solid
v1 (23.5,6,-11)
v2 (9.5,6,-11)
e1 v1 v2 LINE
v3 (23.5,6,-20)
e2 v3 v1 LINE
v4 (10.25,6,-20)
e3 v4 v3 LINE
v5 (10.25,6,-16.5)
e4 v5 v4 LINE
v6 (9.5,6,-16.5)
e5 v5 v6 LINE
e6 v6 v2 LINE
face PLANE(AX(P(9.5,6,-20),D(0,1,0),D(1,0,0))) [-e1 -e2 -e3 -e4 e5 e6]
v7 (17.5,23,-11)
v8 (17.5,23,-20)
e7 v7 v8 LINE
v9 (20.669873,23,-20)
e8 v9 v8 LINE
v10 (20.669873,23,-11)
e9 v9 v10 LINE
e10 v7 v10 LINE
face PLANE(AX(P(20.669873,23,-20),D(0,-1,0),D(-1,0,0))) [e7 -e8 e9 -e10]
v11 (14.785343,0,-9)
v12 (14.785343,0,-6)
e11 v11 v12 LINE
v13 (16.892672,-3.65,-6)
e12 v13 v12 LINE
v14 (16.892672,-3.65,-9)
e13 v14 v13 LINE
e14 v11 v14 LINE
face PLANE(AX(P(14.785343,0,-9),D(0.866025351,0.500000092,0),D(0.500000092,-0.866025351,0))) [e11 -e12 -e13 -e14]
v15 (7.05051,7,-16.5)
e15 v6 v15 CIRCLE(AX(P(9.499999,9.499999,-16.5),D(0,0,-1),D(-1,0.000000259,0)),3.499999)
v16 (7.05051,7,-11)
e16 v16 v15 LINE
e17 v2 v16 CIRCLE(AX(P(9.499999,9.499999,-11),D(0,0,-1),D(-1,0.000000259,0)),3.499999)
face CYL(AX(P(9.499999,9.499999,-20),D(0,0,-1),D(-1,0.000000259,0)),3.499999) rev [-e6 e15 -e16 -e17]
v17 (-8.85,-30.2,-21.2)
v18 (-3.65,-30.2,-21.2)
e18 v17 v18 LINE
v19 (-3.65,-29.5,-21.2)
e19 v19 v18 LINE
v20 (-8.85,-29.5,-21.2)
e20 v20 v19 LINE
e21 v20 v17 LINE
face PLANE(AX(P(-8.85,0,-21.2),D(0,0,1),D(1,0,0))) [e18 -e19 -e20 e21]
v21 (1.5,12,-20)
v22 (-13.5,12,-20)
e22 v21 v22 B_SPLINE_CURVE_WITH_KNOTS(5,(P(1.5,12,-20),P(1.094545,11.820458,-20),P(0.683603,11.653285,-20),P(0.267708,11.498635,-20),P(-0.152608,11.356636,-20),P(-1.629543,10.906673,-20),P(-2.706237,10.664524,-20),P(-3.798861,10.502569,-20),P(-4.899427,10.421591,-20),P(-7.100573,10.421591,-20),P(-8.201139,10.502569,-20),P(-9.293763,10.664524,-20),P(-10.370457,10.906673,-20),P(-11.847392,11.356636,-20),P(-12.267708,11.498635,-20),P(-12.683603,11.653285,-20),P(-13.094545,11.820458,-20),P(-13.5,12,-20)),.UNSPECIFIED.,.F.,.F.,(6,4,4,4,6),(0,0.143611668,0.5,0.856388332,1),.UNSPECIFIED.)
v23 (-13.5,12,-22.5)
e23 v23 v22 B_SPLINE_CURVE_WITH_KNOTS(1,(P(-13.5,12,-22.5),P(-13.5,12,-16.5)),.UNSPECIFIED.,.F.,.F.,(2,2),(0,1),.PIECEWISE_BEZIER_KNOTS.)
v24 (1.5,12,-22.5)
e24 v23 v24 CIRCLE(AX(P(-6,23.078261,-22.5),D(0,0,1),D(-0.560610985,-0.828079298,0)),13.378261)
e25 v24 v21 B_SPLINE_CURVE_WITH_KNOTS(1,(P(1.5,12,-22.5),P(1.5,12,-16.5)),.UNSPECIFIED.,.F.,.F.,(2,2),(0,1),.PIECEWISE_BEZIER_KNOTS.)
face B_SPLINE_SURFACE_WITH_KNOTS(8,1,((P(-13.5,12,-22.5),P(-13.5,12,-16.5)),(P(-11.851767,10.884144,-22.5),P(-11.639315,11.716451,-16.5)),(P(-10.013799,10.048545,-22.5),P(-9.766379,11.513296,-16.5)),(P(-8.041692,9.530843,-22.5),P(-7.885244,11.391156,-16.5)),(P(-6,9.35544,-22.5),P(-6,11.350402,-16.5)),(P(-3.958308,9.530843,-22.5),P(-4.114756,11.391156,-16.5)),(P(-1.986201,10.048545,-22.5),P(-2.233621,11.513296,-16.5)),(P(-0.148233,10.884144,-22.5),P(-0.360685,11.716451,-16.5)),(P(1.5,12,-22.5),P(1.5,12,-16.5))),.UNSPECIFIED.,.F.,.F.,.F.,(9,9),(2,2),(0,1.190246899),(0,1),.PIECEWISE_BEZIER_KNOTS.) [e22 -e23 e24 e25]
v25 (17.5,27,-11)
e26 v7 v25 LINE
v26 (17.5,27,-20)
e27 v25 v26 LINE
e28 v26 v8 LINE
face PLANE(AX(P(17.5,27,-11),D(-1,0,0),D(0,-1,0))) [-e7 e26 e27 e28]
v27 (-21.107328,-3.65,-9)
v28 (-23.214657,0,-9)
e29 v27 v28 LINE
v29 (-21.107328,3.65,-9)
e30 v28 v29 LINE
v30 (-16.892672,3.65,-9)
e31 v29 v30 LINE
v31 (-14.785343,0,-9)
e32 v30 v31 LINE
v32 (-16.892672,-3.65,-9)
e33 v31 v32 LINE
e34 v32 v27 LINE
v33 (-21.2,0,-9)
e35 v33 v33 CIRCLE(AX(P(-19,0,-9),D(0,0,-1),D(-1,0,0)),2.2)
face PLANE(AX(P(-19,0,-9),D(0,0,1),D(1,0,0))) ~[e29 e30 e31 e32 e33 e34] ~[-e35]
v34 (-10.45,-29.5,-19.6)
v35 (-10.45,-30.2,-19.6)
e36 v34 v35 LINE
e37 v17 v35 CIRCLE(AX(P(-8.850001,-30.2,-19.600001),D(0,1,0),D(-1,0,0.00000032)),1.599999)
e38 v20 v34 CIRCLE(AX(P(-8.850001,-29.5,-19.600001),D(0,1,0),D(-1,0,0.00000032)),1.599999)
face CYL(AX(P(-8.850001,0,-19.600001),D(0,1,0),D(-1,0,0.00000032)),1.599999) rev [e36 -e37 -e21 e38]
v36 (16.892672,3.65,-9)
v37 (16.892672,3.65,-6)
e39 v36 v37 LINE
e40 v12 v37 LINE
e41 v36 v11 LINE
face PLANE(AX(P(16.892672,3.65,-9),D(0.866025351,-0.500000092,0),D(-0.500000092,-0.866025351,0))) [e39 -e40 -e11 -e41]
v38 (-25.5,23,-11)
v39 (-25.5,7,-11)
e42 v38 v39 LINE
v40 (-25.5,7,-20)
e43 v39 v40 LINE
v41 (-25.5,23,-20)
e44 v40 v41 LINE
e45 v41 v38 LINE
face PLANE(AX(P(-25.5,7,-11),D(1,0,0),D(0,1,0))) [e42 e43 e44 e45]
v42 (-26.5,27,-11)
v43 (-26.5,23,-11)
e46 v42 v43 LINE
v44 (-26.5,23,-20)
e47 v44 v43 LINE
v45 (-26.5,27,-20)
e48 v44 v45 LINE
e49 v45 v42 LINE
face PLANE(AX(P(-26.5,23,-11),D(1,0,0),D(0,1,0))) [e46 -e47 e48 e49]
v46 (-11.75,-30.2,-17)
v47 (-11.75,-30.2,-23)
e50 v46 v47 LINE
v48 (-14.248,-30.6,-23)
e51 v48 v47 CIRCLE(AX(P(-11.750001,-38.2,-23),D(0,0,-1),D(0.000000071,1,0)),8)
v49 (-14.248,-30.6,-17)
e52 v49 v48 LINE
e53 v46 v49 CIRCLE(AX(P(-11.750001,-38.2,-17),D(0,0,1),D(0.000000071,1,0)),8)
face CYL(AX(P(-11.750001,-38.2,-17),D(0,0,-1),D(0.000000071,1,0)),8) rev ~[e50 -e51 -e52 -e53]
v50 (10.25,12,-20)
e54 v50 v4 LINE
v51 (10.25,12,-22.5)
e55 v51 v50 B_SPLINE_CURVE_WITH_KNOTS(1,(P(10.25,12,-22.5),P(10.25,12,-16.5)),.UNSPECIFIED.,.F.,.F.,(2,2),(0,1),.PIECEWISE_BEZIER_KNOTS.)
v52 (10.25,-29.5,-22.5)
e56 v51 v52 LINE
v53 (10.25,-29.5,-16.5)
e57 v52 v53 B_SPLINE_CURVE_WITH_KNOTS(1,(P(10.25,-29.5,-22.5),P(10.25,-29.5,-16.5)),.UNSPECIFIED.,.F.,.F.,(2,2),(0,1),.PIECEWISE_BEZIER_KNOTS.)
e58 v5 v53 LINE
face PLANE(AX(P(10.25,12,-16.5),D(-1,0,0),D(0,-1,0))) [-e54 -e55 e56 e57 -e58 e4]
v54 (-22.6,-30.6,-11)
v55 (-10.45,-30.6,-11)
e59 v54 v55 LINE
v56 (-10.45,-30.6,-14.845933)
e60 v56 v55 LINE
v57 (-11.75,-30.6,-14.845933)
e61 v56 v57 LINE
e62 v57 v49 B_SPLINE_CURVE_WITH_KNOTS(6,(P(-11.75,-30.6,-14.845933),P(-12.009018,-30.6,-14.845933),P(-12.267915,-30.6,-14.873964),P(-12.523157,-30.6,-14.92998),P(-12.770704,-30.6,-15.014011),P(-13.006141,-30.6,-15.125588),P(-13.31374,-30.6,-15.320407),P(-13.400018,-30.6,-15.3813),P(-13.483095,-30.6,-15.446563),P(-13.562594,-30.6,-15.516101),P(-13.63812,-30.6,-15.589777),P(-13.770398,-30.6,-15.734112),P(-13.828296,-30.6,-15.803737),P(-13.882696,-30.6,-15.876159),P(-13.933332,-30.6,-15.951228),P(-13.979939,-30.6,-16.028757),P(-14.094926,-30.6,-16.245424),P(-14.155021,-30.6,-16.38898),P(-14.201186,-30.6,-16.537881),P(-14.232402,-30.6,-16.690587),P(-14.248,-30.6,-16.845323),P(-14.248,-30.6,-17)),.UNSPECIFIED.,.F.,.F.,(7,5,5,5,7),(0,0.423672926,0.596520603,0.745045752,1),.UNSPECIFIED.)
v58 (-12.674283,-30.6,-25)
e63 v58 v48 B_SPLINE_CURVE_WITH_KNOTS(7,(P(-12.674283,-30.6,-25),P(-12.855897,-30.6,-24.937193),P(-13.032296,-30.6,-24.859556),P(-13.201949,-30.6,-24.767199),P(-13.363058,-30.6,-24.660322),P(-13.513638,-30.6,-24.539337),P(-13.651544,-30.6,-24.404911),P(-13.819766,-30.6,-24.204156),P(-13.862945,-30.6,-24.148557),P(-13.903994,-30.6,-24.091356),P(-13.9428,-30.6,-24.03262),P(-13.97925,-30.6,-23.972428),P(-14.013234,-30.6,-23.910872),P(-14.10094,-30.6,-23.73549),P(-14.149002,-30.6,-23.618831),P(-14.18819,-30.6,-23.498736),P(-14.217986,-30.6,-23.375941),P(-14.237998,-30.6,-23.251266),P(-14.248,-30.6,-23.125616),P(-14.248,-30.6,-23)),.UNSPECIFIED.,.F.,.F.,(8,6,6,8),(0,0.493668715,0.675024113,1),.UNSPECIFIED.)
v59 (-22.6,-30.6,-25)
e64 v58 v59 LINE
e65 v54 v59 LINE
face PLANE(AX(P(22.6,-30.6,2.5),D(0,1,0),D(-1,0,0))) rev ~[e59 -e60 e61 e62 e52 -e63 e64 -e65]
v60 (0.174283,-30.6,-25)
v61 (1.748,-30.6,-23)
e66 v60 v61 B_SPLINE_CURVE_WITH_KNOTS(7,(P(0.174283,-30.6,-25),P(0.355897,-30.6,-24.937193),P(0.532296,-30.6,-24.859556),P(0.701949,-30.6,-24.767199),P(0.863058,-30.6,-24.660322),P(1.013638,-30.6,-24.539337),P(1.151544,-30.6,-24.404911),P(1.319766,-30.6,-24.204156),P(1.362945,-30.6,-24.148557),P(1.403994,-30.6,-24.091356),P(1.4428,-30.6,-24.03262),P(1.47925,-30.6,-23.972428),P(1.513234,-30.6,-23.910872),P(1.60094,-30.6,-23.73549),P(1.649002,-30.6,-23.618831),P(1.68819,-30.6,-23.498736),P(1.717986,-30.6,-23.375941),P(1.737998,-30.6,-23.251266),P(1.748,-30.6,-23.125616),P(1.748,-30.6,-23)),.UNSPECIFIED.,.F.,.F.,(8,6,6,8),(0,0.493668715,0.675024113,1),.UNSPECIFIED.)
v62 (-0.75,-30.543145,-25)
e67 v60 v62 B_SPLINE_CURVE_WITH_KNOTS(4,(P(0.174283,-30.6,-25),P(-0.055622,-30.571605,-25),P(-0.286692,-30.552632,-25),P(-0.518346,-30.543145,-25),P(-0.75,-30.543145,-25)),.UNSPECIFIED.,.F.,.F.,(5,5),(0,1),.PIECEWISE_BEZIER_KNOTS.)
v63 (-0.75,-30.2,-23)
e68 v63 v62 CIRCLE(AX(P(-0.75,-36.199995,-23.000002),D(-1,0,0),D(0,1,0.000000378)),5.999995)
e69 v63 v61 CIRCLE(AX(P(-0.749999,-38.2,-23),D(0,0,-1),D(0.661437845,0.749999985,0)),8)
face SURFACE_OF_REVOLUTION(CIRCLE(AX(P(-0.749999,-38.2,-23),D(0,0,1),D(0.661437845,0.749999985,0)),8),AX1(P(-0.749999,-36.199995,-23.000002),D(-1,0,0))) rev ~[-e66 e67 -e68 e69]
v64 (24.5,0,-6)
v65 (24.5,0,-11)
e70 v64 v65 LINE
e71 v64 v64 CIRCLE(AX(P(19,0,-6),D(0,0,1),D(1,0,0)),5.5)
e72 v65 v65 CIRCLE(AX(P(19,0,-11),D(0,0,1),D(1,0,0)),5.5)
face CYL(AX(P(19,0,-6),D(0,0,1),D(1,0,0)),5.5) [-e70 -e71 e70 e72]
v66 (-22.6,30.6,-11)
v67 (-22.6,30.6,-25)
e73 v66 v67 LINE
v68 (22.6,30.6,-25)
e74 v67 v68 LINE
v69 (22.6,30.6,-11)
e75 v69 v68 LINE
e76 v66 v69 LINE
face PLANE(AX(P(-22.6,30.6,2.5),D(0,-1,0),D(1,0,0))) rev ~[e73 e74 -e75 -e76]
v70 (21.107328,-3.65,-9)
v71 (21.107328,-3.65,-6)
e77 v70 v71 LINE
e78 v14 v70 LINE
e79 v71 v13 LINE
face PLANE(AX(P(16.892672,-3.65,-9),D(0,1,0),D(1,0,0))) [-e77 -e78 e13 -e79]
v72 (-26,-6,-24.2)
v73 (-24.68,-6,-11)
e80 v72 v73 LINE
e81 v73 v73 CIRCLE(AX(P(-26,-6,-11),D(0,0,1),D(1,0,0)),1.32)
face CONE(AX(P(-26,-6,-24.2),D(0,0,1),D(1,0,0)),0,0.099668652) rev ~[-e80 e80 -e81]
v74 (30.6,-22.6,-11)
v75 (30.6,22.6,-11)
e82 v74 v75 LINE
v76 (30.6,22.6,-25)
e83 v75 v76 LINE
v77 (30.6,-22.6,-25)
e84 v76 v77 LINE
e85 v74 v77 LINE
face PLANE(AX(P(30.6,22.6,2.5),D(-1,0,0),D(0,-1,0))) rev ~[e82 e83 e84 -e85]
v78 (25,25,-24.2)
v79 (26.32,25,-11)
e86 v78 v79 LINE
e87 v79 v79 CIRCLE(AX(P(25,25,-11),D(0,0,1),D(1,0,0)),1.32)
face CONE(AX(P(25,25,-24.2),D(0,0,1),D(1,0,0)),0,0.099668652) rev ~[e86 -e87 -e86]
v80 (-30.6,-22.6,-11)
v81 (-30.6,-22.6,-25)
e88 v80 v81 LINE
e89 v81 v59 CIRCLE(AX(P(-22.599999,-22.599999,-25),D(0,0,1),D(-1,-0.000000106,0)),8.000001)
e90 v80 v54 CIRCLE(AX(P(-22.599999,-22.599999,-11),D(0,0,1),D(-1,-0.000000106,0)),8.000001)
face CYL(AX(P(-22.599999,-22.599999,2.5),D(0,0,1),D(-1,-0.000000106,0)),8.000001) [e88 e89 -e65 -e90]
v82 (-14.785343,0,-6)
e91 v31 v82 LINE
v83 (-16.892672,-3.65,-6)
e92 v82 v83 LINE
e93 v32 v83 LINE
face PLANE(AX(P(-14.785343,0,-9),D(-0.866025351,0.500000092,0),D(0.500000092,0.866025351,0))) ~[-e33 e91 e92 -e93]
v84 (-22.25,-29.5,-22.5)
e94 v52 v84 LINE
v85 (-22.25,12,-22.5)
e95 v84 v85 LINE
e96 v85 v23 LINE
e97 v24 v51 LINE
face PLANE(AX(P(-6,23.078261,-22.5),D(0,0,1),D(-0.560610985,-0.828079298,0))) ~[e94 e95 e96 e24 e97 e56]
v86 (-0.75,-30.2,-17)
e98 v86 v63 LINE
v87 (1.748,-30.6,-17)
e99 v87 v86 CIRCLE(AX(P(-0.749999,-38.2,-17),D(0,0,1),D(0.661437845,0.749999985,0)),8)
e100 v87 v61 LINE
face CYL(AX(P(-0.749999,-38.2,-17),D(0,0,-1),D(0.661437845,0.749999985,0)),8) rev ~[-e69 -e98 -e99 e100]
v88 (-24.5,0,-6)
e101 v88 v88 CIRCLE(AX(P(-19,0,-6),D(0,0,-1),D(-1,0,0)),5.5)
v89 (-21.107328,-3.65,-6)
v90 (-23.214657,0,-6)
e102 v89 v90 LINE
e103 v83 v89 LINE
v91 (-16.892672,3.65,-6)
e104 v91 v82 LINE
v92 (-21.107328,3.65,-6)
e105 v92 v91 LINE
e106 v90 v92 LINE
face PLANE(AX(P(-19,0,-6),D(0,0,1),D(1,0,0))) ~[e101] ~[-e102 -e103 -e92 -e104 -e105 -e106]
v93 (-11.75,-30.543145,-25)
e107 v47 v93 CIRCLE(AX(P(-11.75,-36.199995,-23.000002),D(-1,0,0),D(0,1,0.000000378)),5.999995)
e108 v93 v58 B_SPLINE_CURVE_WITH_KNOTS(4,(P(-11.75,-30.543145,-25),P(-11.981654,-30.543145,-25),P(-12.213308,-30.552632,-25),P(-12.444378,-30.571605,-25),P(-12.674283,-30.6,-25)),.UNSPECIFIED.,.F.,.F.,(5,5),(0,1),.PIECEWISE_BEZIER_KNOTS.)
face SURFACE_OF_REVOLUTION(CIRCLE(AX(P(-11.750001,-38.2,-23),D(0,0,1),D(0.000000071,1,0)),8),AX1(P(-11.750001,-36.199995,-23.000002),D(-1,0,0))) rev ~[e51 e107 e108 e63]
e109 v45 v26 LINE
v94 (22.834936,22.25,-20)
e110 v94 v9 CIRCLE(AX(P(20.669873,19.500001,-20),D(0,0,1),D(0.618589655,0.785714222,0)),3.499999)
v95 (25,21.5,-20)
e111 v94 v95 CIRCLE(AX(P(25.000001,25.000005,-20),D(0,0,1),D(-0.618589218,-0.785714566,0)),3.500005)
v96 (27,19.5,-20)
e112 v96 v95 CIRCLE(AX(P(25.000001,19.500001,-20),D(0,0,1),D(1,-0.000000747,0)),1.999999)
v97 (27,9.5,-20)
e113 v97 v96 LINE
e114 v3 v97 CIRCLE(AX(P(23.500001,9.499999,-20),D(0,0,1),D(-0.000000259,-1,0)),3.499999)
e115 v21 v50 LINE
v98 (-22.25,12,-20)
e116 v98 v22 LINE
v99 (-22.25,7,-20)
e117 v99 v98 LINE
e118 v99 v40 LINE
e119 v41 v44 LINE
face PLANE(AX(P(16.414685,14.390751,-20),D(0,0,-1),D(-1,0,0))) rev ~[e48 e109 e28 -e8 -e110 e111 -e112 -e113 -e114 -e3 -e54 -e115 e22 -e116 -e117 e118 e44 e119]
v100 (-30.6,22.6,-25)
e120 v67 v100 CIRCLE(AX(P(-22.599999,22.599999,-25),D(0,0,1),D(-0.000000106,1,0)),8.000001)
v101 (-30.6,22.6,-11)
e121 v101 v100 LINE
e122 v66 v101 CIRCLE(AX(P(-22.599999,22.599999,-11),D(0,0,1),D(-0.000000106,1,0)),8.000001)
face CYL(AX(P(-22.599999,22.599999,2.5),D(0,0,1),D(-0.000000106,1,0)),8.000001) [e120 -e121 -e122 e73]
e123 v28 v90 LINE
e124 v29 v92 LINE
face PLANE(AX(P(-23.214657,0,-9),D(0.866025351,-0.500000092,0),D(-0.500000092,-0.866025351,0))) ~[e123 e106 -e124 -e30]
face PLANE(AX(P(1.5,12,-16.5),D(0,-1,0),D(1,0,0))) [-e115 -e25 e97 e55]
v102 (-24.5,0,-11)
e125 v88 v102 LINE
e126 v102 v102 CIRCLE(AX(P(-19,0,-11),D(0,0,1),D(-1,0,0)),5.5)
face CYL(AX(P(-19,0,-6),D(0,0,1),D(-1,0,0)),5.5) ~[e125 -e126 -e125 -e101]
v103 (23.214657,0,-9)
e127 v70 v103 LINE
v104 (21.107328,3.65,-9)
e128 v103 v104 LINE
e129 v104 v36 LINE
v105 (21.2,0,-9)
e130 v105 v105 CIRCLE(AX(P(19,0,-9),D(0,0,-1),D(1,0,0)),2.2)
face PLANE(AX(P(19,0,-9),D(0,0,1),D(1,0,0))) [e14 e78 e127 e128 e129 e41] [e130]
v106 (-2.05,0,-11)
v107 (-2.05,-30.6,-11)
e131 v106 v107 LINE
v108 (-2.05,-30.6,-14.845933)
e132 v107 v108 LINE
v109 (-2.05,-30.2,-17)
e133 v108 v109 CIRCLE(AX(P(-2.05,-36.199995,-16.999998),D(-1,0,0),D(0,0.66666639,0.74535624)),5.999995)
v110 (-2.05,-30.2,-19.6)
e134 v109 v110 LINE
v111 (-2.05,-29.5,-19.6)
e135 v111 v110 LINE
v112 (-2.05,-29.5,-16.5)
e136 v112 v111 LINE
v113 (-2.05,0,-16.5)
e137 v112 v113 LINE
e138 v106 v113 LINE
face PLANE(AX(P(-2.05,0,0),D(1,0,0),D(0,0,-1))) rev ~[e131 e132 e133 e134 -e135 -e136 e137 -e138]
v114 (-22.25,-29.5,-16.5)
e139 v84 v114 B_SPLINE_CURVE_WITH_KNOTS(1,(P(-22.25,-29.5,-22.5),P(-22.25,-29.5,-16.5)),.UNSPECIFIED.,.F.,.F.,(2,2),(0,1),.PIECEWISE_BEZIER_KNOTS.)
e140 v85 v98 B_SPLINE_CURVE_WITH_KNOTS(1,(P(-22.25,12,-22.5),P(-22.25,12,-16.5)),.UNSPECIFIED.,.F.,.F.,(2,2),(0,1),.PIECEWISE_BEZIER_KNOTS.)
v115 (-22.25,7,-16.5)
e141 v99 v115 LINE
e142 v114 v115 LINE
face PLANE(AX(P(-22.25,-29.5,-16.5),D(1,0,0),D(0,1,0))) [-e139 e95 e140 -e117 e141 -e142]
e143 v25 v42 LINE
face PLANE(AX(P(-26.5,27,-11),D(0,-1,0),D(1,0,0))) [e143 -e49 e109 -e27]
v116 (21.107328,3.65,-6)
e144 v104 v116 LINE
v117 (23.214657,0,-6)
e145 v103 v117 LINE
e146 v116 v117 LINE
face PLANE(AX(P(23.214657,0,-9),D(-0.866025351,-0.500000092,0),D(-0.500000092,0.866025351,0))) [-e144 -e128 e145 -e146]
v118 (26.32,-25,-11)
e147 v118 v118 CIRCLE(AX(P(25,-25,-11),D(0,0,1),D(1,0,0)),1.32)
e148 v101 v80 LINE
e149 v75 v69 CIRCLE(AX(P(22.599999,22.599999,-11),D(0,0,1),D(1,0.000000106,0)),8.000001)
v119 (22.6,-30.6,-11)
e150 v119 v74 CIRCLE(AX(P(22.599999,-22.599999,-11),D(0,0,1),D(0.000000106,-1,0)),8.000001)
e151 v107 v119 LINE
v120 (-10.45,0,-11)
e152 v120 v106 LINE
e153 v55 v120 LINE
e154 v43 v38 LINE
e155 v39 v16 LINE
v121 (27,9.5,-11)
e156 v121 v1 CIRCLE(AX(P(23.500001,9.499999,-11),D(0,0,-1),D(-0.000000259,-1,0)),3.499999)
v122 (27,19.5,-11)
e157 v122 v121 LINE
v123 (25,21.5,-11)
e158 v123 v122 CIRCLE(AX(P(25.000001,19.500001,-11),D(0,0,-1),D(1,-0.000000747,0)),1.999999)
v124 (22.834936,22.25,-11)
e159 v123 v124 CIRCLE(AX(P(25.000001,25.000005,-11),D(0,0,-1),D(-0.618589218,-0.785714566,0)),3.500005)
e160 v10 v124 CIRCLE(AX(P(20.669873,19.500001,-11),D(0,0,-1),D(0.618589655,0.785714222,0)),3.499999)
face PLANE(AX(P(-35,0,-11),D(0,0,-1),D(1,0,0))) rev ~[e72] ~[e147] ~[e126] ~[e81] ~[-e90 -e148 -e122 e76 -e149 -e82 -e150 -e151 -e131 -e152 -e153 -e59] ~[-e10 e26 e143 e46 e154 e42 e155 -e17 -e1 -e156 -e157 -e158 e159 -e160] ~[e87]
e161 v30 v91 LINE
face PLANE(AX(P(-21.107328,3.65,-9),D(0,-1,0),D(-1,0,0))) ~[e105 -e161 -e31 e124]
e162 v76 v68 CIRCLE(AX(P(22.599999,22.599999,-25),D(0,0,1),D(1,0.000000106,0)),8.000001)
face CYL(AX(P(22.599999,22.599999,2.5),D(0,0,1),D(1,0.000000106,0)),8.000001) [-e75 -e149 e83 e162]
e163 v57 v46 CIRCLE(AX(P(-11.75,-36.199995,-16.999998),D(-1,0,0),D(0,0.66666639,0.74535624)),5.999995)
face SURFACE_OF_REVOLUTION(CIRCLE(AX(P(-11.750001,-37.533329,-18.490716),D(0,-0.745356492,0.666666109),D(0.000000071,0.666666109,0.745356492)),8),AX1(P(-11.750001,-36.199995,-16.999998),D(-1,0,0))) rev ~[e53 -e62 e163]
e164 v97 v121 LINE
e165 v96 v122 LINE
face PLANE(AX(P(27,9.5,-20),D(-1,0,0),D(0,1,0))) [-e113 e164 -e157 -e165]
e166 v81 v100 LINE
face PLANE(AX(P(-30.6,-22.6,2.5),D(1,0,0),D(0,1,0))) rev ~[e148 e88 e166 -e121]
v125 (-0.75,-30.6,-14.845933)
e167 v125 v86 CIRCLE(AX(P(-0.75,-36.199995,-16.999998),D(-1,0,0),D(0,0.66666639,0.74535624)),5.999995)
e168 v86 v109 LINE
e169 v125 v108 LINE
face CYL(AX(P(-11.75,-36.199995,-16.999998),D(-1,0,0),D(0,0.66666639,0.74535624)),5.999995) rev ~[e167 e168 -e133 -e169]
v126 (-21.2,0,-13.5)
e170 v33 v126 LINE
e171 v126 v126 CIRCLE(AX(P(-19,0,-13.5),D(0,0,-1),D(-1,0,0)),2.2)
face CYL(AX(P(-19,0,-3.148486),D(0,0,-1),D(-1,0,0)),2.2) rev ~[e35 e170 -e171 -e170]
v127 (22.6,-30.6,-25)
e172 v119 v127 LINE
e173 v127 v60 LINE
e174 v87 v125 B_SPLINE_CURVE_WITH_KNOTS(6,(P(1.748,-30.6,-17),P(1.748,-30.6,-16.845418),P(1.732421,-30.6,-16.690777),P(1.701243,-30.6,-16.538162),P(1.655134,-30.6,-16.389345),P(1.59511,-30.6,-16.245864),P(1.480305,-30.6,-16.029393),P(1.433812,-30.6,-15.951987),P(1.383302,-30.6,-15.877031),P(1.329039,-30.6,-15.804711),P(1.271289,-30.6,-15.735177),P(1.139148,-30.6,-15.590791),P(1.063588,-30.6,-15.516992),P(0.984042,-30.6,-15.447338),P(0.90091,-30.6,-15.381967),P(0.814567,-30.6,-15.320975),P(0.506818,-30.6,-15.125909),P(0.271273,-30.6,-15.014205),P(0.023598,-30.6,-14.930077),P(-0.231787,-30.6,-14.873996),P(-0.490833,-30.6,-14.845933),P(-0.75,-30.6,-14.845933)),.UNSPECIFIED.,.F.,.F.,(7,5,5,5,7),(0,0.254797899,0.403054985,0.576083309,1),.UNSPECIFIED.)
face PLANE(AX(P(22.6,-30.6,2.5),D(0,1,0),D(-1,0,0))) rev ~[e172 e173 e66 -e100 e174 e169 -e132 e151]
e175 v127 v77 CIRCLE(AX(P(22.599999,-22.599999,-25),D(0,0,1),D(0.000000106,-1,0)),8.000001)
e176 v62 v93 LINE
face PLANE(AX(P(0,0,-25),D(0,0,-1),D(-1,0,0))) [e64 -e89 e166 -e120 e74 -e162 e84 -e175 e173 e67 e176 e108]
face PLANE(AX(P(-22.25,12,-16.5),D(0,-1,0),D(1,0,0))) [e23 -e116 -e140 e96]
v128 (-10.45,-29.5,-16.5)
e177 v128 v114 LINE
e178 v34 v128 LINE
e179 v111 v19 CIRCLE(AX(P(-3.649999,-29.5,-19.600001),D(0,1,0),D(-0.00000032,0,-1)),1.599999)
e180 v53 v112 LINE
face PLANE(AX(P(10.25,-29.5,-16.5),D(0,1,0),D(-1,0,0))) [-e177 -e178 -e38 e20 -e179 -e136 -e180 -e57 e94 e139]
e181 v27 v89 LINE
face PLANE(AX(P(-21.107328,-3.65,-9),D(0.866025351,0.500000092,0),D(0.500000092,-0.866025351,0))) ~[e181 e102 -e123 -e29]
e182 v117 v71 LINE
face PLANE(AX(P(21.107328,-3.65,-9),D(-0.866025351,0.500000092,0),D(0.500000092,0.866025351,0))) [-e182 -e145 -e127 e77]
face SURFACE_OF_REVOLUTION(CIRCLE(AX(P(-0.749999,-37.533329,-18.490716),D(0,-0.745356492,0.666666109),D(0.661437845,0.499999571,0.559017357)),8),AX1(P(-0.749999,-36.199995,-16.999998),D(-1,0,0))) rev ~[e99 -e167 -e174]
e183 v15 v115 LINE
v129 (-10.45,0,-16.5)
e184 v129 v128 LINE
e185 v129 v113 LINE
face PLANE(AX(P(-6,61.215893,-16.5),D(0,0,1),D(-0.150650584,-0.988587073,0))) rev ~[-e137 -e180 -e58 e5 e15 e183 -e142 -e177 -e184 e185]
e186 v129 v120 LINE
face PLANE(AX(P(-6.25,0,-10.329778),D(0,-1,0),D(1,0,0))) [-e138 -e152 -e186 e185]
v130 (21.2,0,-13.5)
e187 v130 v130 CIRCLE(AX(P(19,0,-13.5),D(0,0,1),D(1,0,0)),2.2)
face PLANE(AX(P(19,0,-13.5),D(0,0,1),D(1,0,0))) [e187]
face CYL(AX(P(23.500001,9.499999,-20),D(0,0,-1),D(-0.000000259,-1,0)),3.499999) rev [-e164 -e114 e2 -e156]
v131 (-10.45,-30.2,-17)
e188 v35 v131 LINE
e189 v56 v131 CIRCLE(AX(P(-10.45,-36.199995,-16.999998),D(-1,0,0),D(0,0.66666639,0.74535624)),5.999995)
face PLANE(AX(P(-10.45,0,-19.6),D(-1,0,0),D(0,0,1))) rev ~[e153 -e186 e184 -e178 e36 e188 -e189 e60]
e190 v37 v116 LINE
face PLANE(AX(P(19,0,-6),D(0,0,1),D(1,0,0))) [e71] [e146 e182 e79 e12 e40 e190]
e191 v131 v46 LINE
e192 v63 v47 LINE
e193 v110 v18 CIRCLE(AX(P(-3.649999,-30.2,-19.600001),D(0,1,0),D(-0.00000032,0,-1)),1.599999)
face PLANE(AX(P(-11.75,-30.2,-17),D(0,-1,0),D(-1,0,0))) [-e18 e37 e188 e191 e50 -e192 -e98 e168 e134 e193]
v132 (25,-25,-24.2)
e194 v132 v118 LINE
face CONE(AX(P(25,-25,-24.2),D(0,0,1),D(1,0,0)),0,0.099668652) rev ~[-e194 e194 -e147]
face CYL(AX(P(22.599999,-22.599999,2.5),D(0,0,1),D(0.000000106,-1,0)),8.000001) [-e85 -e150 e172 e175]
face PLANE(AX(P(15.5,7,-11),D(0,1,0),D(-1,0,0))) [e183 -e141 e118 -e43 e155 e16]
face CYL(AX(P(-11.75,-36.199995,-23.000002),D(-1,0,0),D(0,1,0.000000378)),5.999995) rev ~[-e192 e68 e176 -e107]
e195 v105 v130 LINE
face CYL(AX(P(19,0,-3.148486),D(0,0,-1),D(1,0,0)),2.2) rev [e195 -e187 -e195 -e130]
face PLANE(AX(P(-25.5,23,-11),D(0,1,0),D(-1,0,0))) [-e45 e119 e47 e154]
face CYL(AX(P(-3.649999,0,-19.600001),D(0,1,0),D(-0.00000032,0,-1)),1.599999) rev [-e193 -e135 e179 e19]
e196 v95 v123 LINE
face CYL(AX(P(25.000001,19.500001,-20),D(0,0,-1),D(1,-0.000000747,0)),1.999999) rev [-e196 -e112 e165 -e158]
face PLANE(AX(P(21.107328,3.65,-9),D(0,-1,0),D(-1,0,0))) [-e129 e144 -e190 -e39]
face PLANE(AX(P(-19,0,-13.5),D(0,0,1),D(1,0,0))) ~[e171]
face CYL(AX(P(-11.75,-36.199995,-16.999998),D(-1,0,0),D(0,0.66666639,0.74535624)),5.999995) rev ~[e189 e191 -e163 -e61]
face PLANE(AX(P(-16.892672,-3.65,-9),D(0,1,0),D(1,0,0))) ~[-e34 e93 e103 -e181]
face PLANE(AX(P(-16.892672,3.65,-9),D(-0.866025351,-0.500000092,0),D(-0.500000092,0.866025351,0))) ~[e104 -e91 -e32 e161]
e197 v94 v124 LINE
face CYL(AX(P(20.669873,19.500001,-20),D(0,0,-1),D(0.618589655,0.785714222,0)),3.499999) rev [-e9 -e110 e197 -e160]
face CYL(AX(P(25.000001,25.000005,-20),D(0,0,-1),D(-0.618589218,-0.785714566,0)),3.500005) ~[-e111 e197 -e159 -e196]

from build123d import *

# Parameters (mm, degrees)
PAD017_DEPTH         = 27.5
POCKET043_DEPTH      = 30.601
POCKET044_DEPTH      = 22.501
SKETCH115_W          = 70
SKETCH115_H          = 14
POCKET041_DEPTH      = 30.601
POCKET041_DEPTH_BACK = 30.601
POCKET048_DEPTH      = 9
SKETCH132_R          = 5.5
PAD019_DEPTH         = 5.5
POCKET049_DEPTH      = 180.22267


with BuildPart() as part:
    # Sketch116 → Pad017 (new body)
    with BuildSketch(Plane.XY.offset(2.5)):
        with BuildLine():
            Line((-22.6, 30.6), (22.6, 30.6))
            ThreePointArc((30.6, 22.6), (28.256854, 28.256854), (22.6, 30.6))
            Line((30.6, 22.6), (30.6, -22.6))
            ThreePointArc((22.6, -30.6), (28.256854, -28.256854), (30.6, -22.6))
            Line((22.6, -30.6), (-22.6, -30.6))
            ThreePointArc((-30.6, -22.6), (-28.256854, -28.256854), (-22.6, -30.6))
            Line((-30.6, -22.6), (-30.6, 22.6))
            ThreePointArc((-22.6, 30.6), (-28.256854, 28.256854), (-30.6, 22.6))
        make_face()
    extrude(amount=-PAD017_DEPTH)

    # Sketch117 → Groove014 (revolve, cut)
    with BuildSketch(Plane.XZ.offset(6)):
        Polygon((-26, 3), (-26, -24.2), (-24.4, -8.2), (-23, -6.8), (-23, 3), align=None)
    revolve(axis=Axis((-26, -6, 3), (0, 0, 1)), mode=Mode.SUBTRACT)

    # Sketch118 → Groove013 (revolve, cut)
    with BuildSketch(Plane.XZ.offset(25)):
        Polygon((25, 3), (25, -24.2), (26.6, -8.2), (28, -6.8), (28, 3), align=None)
    revolve(axis=Axis((25, -25, 3), (0, 0, 1)), mode=Mode.SUBTRACT)

    # Sketch119 → Groove016 (revolve, cut)
    with BuildSketch(Plane.XZ.offset(-25)):
        Polygon((25, 3), (25, -24.2), (26.6, -8.2), (28, -6.8), (28, 3), align=None)
    revolve(axis=Axis((25, 25, 3), (0, 0, 1)), mode=Mode.SUBTRACT)

    # Sketch127 → SubtractiveLoft003 section 0
    with BuildSketch(Plane.XY.offset(-22.5)):
        with BuildLine():
            Line((-22.25, 12), (-13.5, 12))
            ThreePointArc((-13.5, 12), (-6, 9.7), (1.5, 12))
            Line((1.5, 12), (10.25, 12))
            Line((10.25, 12), (10.25, -29.5))
            Line((10.25, -29.5), (-22.25, -29.5))
            Line((-22.25, -29.5), (-22.25, 12))
        make_face()
    # Sketch124 → SubtractiveLoft003 section 1
    with BuildSketch(Plane.XY.offset(-16.5)):
        with BuildLine():
            Line((-22.25, 12), (-13.5, 12))
            ThreePointArc((-13.5, 12), (-6, 11.431818), (1.5, 12))
            Line((1.5, 12), (10.25, 12))
            Line((10.25, 12), (10.25, -29.5))
            Line((10.25, -29.5), (-22.25, -29.5))
            Line((-22.25, -29.5), (-22.25, 12))
        make_face()
    loft(mode=Mode.SUBTRACT)

    # Sketch125 → Pocket043 (cut, through all)
    with BuildSketch(Plane.XZ):
        with BuildLine():
            ThreePointArc((-10.45, -19.6), (-9.981371, -20.731371), (-8.85, -21.2))
            Line((-8.85, -21.2), (-3.65, -21.2))
            ThreePointArc((-3.65, -21.2), (-2.518629, -20.731371), (-2.05, -19.6))
            Line((-2.05, 0), (-2.05, -19.6))
            Line((-10.45, 0), (-2.05, 0))
            Line((-10.45, -19.6), (-10.45, 0))
        make_face()
    extrude(amount=POCKET043_DEPTH, mode=Mode.SUBTRACT)

    # SubtractivePipe008: sweep along a path in Sketch126
    with BuildLine(Plane.YZ) as subtractivepipe008_path:
        ThreePointArc((-32.2, -12.527864), (-30.722774, -14.55051), (-30.2, -17))
        Line((-30.2, -17), (-30.2, -23))
        ThreePointArc((-30.2, -23), (-30.722774, -25.44949), (-32.2, -27.472136))
    # Sketch128 → SubtractivePipe008 (sweep, cut)
    with BuildSketch(Plane.XY.offset(-20)):
        with BuildLine():
            ThreePointArc((-11.75, -30.2), (-14.578427, -30.716685), (-17.041503, -32.2))
            Line((-17.041503, -32.2), (4.541503, -32.2))
            ThreePointArc((4.541503, -32.2), (2.078427, -30.716685), (-0.75, -30.2))
            Line((-11.75, -30.2), (-0.75, -30.2))
        make_face()
    sweep(path=subtractivepipe008_path.line, mode=Mode.SUBTRACT)

    # Sketch129 → Pocket044 (cut, through all)
    with BuildSketch(Plane.XY.offset(-20)):
        with BuildLine():
            ThreePointArc((22.834936, 22.25), (23.854356, 21.692811), (25, 21.5))
            ThreePointArc((27, 19.5), (26.414214, 20.914214), (25, 21.5))
            Line((27, 9.5), (27, 19.5))
            ThreePointArc((23.5, 6), (25.974874, 7.025126), (27, 9.5))
            Line((9.5, 6), (23.5, 6))
            ThreePointArc((6, 9.5), (7.025126, 7.025126), (9.5, 6))
            Line((6, 19.5), (6, 9.5))
            ThreePointArc((9.5, 23), (7.025126, 21.974874), (6, 19.5))
            Line((20.669873, 23), (9.5, 23))
            ThreePointArc((22.834936, 22.25), (21.815517, 22.807189), (20.669873, 23))
        make_face()
    extrude(amount=POCKET044_DEPTH, mode=Mode.SUBTRACT)

    # Sketch115 → Pocket041 (cut, two sides)
    with BuildSketch(Plane.XZ) as pocket041_sk:
        with Locations((0, -4)):
            Rectangle(SKETCH115_W, SKETCH115_H)
    extrude(amount=-POCKET041_DEPTH, mode=Mode.SUBTRACT)
    extrude(pocket041_sk.sketch, amount=POCKET041_DEPTH_BACK, mode=Mode.SUBTRACT)

    # Sketch122 → Pocket048 (cut, symmetric)
    with BuildSketch(Plane.XY.offset(-11)):
        Polygon((-26.5, 27), (17.5, 27), (17.5, 23), (15.5, 23), (15.5, 7), (-25.5, 7), (-25.5, 23), (-26.5, 23), align=None)
    extrude(amount=POCKET048_DEPTH, both=True, mode=Mode.SUBTRACT)

    # Sketch132 → Pad019 (join)
    with BuildSketch(Plane.XY.offset(-6)):
        with Locations((19, 0)):
            Circle(SKETCH132_R)
    pad019 = extrude(amount=-PAD019_DEPTH)

    # Sketch121 → Groove017 (revolve, cut)
    with BuildSketch(Plane.XZ):
        Polygon((19, -1.5), (21.8, -1.5), (21.2, -3.148486), (21.2, -13.5), (19, -13.5), align=None)
    groove017 = revolve(axis=Axis((19, 0, -1.5), (0, 0, 1)), mode=Mode.SUBTRACT)

    # Sketch133 → Pocket049 (cut, through all)
    with BuildSketch(Plane.XY.offset(-9)):
        Polygon((23.214657, 0), (21.107328, 3.65), (16.892672, 3.65), (14.785343, 0), (16.892672, -3.65), (21.107328, -3.65), align=None)
    pocket049 = extrude(amount=POCKET049_DEPTH, mode=Mode.SUBTRACT)

    # Mirrored010: Pad019, Groove017, Pocket049 across YZ
    add(pad019.mirror(Plane.YZ))
    add(groove017.mirror(Plane.YZ), mode=Mode.SUBTRACT)
    add(pocket049.mirror(Plane.YZ), mode=Mode.SUBTRACT)


solid = part.part
